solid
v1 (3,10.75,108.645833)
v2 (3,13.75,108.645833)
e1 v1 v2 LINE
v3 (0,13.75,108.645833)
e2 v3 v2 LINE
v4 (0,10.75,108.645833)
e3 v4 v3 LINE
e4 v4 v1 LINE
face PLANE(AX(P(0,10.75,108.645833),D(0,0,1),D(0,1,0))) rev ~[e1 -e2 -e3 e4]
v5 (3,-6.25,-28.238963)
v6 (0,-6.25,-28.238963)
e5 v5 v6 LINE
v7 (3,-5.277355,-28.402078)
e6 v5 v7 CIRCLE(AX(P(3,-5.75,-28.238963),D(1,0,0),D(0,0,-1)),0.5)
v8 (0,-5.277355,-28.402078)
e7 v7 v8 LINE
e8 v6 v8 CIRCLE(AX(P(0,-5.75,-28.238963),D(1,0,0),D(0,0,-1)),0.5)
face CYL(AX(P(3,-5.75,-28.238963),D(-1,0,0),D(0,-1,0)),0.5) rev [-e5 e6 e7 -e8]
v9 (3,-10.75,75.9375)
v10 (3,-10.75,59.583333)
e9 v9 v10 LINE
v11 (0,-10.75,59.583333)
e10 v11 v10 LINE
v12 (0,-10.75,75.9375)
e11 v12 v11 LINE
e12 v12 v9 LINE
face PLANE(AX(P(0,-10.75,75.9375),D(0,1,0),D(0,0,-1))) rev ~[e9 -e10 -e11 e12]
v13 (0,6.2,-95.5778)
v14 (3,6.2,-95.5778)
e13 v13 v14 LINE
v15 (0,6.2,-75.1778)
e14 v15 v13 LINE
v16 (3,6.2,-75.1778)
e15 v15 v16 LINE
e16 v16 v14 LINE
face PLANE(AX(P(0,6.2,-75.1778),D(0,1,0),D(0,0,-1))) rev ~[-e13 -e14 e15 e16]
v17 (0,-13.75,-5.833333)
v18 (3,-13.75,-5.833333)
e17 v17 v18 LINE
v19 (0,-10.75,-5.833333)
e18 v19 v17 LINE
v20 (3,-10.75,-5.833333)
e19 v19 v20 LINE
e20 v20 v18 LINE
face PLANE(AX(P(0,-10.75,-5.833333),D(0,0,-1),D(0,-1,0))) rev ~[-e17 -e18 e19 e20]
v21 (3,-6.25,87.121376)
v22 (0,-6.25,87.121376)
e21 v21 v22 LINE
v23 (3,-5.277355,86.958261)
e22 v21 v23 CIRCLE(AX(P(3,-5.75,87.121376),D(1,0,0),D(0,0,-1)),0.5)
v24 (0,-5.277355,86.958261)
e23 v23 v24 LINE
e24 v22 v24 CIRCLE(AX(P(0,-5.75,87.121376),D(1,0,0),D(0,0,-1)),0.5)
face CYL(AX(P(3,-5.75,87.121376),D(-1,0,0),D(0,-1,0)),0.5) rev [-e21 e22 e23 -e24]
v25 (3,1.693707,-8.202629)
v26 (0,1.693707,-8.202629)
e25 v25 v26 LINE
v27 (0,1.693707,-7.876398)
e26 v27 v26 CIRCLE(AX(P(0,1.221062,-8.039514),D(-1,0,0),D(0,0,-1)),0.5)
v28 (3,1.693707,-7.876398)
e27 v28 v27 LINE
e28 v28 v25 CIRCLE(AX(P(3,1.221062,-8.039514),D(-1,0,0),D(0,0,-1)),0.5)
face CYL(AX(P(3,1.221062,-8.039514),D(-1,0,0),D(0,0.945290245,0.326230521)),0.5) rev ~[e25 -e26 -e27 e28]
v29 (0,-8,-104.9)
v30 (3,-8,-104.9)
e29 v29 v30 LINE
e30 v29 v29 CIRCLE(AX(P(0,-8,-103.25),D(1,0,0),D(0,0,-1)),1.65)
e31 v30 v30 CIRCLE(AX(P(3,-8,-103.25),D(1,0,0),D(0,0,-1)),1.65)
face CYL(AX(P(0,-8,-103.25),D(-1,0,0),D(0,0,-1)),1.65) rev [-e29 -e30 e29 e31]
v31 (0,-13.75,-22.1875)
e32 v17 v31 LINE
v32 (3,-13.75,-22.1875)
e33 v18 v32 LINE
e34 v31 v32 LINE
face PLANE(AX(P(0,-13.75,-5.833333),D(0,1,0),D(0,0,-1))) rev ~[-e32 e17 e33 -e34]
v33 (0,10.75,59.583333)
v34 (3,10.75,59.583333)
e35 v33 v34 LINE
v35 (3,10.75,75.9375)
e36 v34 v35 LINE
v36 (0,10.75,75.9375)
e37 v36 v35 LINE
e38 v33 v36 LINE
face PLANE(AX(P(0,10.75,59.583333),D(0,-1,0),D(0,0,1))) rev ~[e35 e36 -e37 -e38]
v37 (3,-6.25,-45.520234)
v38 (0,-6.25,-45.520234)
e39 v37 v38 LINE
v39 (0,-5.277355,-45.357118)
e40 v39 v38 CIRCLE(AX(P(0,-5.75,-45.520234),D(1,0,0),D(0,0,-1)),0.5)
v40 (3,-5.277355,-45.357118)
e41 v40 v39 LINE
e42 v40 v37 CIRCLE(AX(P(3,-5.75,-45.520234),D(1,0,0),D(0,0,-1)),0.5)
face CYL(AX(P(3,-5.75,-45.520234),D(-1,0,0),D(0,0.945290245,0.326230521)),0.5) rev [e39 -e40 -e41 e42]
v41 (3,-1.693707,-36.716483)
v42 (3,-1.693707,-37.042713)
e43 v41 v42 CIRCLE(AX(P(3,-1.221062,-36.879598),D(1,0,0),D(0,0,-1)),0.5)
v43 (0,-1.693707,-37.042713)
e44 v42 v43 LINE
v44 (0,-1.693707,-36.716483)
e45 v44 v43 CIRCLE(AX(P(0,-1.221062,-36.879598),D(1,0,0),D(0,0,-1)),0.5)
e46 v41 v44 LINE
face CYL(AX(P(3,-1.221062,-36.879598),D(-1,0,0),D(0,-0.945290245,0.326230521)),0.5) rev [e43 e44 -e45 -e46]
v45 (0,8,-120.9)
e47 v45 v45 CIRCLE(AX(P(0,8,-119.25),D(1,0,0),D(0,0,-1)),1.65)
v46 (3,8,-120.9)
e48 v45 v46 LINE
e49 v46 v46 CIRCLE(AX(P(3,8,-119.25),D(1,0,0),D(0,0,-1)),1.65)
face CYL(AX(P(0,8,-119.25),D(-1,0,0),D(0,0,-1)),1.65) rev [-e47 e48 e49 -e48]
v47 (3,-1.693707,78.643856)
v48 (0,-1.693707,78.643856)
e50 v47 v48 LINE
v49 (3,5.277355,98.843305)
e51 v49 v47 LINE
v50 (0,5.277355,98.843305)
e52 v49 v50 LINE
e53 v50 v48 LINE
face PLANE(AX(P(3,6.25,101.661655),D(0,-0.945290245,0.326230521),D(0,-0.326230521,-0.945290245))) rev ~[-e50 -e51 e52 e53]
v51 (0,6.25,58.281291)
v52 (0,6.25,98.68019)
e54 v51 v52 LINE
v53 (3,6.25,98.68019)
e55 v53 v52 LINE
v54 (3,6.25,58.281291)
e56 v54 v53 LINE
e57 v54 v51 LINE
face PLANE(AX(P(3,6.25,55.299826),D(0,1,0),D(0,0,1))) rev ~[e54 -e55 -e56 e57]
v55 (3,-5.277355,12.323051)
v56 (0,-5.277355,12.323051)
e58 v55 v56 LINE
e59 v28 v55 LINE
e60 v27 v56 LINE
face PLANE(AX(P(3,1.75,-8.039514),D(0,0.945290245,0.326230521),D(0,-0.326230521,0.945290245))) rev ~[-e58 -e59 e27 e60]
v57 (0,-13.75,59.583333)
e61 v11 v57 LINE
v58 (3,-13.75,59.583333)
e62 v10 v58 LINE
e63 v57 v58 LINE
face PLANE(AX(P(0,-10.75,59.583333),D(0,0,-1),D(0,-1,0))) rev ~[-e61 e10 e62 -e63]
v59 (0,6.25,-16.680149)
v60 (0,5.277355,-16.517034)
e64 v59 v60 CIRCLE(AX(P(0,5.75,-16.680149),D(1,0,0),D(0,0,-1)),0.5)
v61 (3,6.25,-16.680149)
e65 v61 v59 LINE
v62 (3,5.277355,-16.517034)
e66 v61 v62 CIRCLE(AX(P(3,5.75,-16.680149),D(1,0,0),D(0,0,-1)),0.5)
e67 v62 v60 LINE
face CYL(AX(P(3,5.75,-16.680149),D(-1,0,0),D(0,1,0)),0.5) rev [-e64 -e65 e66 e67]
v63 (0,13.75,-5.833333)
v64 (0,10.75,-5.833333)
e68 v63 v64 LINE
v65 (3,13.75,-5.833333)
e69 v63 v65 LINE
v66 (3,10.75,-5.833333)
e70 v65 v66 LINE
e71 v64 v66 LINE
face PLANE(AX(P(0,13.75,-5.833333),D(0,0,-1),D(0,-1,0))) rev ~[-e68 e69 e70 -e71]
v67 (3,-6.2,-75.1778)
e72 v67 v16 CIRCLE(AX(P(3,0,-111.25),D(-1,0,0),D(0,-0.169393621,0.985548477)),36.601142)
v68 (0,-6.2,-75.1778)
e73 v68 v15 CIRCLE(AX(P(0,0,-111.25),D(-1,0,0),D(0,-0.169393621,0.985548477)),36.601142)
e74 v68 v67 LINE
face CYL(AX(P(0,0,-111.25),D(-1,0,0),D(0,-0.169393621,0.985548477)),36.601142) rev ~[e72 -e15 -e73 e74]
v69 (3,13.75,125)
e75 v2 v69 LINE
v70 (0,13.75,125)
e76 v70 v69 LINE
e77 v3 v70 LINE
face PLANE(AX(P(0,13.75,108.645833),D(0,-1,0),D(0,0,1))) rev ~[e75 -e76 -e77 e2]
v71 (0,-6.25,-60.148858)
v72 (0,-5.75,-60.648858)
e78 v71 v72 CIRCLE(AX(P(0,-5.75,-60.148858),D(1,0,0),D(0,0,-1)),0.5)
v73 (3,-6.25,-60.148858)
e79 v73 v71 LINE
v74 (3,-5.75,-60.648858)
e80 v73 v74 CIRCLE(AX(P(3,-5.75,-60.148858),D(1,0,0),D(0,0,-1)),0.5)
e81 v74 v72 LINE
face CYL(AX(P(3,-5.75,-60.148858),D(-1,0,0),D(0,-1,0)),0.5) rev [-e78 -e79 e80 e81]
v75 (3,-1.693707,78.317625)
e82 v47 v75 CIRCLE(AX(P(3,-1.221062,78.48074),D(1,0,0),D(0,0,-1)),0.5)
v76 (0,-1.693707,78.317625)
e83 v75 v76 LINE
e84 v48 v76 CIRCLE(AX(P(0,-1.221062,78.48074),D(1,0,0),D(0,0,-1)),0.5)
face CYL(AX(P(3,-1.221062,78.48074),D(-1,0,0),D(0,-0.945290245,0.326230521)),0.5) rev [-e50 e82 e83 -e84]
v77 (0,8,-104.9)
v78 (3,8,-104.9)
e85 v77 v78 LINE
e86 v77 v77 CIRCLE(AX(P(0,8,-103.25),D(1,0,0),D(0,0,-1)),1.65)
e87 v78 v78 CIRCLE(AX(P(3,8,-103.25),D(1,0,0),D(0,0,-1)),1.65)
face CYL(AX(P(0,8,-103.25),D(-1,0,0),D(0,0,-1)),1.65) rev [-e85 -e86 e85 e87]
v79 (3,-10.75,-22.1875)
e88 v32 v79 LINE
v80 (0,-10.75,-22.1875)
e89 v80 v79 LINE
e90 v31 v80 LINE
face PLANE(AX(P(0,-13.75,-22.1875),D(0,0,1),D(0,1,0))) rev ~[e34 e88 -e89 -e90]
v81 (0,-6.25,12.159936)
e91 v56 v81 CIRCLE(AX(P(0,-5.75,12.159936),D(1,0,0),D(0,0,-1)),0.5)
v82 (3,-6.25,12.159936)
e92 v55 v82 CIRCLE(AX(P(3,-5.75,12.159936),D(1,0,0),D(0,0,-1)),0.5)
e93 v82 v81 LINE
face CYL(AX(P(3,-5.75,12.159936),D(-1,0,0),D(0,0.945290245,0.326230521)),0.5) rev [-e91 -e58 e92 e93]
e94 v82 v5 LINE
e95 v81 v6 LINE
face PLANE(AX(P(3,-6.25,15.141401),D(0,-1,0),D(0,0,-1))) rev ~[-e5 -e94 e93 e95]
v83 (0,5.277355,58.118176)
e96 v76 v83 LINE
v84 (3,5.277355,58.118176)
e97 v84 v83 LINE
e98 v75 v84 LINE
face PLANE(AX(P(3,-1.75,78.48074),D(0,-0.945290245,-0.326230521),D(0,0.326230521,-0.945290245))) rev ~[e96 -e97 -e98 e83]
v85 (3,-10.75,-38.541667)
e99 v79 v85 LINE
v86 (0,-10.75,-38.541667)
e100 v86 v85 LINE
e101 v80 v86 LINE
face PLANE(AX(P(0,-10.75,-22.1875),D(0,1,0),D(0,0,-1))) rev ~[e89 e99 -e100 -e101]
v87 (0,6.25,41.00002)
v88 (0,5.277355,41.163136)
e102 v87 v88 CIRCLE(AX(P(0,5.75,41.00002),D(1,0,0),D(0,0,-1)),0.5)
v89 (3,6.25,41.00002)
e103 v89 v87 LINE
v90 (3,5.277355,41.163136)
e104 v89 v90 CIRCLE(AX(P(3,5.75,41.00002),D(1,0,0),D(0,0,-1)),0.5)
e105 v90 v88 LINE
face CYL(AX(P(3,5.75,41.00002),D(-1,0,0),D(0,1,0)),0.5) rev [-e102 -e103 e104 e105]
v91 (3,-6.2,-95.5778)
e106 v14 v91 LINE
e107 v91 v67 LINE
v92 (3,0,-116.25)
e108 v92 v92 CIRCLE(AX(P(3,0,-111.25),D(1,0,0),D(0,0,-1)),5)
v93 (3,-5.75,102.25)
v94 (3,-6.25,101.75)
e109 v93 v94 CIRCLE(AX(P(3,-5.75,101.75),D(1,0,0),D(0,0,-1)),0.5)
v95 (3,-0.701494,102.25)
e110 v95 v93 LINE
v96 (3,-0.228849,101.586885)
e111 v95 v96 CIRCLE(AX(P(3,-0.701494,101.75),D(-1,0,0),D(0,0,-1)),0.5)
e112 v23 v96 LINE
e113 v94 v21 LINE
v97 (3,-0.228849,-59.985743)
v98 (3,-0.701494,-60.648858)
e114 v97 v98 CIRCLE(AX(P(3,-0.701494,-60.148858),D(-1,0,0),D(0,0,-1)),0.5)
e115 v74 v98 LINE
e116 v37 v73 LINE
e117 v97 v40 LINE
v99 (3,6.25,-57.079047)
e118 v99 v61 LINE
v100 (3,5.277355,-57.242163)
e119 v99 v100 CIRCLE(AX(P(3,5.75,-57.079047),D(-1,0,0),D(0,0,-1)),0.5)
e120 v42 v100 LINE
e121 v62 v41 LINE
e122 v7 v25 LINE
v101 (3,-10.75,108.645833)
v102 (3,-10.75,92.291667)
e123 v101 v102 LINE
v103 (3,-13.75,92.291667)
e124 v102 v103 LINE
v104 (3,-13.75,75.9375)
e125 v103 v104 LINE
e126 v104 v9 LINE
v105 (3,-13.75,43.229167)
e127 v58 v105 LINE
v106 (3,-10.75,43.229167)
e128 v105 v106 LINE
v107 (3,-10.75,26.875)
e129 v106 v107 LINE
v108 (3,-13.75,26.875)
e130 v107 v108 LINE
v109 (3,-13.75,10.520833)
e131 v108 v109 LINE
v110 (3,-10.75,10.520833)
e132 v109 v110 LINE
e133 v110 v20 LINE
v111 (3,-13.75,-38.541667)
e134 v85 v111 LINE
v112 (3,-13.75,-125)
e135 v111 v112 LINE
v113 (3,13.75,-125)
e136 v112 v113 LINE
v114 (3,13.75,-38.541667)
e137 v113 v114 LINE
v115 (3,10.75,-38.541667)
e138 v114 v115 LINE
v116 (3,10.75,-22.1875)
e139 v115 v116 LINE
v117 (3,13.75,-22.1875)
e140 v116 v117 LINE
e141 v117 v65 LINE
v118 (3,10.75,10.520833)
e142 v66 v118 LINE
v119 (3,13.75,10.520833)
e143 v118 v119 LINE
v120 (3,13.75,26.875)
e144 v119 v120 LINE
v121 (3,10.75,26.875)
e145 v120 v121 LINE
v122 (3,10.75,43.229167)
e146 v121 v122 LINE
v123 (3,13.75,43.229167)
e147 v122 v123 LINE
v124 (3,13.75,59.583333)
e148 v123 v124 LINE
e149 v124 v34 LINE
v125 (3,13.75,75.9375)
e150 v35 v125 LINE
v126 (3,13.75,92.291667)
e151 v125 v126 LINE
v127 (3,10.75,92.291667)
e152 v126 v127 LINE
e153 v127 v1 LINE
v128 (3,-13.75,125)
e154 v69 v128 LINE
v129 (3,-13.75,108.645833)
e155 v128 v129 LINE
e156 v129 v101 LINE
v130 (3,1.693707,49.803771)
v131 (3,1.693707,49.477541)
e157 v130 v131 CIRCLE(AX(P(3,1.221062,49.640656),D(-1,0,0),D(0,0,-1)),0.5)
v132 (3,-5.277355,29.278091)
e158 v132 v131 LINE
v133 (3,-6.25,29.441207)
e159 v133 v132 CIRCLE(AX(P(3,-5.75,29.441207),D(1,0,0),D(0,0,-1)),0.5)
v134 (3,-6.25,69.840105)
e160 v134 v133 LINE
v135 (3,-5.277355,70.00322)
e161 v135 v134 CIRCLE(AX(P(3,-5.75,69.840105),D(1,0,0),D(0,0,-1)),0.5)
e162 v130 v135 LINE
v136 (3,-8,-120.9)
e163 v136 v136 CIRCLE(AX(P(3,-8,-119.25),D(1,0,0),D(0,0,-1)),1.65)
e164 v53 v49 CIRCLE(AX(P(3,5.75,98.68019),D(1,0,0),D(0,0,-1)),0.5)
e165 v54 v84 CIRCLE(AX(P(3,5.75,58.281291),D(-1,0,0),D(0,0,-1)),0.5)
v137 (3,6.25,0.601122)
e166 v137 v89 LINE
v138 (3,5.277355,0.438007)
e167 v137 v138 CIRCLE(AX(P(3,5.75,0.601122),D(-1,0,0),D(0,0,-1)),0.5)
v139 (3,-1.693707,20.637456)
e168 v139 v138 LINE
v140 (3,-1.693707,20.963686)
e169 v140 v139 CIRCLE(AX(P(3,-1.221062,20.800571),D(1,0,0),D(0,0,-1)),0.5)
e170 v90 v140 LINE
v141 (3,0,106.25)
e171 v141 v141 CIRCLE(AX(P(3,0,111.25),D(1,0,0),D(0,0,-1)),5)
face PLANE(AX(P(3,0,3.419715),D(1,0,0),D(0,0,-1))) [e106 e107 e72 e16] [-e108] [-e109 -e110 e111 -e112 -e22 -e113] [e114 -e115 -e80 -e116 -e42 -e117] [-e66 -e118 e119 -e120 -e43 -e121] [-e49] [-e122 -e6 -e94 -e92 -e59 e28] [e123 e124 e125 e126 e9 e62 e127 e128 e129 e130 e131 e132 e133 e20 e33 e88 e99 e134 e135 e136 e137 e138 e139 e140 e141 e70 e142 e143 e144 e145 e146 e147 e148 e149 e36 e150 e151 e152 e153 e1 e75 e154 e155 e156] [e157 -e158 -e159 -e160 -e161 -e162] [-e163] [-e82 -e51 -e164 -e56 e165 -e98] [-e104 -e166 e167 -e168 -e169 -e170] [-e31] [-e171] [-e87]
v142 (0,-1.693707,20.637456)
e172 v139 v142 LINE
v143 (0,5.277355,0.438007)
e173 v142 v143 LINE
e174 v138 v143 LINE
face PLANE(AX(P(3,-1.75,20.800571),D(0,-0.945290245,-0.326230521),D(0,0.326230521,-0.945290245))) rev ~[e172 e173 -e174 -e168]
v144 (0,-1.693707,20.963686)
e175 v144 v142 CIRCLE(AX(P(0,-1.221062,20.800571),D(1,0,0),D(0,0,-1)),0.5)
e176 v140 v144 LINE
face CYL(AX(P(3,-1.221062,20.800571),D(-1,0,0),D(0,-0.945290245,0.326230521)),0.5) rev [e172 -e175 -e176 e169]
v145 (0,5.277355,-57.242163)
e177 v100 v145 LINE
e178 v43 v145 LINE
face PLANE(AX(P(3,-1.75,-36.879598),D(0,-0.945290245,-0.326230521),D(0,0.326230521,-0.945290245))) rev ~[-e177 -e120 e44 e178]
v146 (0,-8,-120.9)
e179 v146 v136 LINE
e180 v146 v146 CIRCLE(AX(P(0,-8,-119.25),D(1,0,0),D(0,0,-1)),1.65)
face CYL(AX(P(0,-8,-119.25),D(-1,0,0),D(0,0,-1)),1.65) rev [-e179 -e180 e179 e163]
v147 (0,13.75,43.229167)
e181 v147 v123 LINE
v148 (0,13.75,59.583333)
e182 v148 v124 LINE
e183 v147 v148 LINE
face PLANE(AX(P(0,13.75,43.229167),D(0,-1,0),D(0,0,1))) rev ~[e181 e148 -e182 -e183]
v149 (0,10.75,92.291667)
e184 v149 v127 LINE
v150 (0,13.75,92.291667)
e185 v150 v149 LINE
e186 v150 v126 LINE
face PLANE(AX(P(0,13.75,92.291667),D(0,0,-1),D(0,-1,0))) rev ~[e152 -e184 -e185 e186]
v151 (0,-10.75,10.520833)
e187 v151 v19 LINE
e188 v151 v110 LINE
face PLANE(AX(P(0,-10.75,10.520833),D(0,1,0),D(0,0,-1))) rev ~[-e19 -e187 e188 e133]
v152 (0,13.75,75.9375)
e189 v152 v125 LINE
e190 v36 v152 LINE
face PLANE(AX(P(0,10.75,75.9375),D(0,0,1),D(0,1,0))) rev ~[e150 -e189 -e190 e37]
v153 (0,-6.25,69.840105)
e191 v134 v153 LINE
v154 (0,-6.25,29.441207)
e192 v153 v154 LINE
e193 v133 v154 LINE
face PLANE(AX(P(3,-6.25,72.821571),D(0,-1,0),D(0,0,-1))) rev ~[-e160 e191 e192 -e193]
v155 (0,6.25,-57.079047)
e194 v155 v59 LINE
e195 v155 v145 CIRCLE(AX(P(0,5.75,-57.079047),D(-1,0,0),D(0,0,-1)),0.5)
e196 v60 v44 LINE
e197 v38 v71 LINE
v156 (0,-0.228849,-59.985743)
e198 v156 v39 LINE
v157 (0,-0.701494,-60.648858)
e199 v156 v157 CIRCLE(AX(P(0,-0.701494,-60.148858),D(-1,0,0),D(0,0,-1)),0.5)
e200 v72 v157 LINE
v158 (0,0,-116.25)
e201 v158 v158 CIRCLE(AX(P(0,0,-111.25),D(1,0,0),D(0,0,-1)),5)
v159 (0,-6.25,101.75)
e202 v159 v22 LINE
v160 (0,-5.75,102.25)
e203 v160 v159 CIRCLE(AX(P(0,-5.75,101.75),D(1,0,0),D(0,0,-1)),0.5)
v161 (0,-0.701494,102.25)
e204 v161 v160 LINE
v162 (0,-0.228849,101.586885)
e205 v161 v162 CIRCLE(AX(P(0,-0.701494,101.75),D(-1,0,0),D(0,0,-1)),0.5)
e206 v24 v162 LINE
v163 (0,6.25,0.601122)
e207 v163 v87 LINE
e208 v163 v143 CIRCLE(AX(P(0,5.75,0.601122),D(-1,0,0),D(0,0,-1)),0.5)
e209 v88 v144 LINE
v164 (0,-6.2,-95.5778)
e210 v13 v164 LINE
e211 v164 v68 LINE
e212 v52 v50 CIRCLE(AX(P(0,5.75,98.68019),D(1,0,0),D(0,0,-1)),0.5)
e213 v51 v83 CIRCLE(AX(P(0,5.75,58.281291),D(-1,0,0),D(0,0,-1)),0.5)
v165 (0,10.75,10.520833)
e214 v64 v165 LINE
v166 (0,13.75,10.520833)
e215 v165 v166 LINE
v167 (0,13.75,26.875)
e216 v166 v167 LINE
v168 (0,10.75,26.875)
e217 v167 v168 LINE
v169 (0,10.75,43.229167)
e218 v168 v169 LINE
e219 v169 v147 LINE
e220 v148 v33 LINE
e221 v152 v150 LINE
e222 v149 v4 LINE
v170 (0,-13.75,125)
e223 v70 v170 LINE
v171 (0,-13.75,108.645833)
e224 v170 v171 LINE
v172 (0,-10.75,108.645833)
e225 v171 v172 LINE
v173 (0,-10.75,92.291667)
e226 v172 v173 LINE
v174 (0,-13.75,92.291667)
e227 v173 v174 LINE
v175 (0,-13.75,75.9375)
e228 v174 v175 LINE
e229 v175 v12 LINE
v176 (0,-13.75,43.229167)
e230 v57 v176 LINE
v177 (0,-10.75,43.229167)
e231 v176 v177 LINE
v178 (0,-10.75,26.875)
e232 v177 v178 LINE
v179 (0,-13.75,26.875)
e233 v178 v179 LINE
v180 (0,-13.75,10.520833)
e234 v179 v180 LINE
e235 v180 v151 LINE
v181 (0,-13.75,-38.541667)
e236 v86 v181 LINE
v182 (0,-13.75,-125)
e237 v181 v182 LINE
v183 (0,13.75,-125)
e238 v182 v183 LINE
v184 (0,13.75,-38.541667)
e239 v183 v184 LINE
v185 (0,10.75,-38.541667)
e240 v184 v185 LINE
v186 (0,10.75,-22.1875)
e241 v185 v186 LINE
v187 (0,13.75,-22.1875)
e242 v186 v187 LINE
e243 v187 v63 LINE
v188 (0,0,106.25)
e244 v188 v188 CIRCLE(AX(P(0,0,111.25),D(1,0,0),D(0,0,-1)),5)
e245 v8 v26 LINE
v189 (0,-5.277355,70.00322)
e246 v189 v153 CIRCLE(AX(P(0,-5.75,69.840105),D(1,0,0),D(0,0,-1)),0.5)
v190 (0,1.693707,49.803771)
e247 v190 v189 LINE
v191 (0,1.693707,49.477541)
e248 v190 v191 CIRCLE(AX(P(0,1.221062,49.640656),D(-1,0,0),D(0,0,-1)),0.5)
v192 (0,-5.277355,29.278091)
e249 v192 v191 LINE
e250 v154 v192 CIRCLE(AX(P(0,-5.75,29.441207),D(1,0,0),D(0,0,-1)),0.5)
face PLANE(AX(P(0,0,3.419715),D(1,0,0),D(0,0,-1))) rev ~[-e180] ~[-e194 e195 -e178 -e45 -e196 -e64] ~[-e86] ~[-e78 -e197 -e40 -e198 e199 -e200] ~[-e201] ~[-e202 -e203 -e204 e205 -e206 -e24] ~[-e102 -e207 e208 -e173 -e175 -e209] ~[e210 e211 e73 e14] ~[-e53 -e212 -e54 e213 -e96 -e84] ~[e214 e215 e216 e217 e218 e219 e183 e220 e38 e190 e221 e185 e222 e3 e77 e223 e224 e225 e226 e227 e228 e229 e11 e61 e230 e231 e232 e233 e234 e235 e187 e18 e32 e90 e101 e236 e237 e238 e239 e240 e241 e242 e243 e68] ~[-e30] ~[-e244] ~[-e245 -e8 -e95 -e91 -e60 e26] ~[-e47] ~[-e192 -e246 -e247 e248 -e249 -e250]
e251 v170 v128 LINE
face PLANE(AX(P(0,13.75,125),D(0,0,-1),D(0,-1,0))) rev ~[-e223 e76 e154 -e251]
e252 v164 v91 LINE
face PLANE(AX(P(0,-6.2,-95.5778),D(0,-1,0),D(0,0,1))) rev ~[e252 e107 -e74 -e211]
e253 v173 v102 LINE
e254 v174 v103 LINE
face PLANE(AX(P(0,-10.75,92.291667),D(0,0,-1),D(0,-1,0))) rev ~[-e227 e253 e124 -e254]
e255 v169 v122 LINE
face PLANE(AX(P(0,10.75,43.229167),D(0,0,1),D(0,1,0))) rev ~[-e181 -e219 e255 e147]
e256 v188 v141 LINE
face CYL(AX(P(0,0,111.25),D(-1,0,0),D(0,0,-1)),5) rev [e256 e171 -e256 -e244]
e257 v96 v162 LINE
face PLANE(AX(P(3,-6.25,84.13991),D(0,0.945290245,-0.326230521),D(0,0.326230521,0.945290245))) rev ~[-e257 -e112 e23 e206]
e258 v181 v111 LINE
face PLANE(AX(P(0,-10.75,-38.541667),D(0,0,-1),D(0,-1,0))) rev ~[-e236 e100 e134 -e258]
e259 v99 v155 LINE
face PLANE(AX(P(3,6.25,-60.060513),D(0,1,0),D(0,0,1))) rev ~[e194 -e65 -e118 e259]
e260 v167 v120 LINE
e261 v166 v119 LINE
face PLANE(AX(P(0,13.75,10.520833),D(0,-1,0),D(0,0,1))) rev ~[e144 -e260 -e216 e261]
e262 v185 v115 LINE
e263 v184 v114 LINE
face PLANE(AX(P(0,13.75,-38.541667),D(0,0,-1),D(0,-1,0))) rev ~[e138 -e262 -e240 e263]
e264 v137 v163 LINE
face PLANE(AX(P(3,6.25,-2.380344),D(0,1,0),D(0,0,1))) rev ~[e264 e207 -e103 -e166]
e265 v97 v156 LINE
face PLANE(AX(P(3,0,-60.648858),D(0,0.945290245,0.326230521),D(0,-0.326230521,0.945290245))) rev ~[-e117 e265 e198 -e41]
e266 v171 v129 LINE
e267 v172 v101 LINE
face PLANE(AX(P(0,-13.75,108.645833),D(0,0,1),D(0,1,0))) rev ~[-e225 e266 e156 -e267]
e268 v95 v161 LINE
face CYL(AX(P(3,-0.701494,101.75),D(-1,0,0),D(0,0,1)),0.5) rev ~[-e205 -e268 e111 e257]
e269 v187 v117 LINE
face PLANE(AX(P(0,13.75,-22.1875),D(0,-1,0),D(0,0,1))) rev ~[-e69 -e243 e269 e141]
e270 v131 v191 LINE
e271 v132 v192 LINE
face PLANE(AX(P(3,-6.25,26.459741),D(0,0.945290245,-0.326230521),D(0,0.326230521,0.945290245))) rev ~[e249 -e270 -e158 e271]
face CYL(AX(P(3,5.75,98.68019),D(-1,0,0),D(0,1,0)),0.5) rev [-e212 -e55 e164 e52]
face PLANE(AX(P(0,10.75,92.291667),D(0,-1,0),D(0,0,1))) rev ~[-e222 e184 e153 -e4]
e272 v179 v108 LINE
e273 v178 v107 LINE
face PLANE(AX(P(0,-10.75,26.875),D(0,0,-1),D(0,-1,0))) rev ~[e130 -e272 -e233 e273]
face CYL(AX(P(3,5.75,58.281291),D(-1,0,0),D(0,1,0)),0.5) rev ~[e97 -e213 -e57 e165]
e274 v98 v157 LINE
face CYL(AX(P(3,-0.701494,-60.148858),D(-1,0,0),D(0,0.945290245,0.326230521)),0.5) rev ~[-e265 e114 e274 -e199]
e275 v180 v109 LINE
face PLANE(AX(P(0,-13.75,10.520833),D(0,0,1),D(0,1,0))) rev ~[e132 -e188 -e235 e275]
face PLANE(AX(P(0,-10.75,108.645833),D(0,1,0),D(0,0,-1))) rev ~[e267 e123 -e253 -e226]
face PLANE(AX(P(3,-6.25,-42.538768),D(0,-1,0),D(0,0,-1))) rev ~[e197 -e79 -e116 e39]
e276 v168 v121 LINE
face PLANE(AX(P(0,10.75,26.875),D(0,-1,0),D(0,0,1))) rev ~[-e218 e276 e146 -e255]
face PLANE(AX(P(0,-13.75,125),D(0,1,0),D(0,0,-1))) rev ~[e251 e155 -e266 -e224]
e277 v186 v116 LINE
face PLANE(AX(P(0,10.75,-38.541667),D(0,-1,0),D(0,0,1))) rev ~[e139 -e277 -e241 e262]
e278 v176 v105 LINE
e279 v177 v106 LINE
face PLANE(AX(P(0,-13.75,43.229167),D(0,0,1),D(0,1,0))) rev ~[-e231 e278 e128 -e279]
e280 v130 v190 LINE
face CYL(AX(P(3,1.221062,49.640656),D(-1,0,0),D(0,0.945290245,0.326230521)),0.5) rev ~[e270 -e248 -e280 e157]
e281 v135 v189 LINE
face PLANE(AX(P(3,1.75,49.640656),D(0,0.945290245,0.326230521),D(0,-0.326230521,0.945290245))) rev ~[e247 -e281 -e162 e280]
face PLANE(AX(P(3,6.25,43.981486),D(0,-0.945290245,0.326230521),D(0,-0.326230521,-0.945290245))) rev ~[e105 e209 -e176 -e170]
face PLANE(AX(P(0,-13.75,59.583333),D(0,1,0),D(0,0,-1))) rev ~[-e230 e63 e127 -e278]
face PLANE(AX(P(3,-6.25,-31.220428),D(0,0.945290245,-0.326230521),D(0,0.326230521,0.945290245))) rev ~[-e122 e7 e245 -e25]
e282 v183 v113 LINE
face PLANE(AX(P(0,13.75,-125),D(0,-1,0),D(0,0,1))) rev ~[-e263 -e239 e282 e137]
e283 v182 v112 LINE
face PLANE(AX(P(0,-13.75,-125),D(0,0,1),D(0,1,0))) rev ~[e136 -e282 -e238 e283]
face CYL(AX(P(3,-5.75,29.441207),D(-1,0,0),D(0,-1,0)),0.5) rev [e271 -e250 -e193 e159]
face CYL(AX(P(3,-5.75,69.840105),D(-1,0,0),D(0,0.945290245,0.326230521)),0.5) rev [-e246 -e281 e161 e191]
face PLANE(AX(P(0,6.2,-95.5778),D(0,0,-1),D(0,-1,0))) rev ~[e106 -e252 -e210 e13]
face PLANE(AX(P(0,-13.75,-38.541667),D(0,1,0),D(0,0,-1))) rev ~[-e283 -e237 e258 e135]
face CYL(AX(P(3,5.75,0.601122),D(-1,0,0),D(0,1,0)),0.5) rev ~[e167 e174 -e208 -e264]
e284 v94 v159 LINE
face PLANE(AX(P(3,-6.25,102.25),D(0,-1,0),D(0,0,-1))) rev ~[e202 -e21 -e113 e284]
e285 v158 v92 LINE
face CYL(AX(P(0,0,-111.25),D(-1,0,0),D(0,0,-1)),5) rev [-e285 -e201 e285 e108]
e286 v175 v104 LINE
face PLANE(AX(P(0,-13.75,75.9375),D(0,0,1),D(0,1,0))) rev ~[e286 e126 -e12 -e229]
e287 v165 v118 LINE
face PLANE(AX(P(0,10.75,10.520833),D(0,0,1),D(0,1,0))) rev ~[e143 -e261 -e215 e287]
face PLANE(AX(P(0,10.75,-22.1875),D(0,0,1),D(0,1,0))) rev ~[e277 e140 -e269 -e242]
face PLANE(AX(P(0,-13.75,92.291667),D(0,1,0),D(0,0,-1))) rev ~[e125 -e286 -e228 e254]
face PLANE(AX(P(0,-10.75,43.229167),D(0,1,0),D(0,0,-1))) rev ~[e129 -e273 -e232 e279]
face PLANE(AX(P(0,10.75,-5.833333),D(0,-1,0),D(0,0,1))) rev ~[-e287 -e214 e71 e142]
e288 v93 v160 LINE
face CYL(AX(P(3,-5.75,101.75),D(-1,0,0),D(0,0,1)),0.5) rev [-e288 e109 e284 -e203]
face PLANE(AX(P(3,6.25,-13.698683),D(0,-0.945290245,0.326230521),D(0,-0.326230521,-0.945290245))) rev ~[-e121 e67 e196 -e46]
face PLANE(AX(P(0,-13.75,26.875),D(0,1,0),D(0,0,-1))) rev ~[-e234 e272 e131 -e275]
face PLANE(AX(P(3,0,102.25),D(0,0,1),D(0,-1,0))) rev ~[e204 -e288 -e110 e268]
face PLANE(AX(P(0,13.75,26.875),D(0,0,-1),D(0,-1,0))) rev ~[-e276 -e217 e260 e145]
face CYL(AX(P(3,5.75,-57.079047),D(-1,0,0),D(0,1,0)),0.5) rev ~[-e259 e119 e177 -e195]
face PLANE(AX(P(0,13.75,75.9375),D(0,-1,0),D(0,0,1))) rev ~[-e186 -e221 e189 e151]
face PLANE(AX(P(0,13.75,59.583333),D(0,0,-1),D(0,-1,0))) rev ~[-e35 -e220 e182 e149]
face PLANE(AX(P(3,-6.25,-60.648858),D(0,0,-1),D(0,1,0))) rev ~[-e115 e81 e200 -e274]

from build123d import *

# Parameters (mm, degrees)
SKETCH1_R           = 1.65
SKETCH1_R_2         = 5
BOSS_EXTRUDE1_DEPTH = 3
CUT_EXTRUDE1_DEPTH  = 3
FILLET1_R           = 0.5


with BuildPart() as part:
    # Sketch1 → Boss-Extrude1 (new body)
    with BuildSketch(Plane(origin=(0, 0, 0), x_dir=(0, 0, -1), z_dir=(1, 0, 0))):
        Polygon((-125, 13.75), (-125, -13.75), (-108.645833333, -13.75), (-108.645833333, -10.75), (-92.291666667, -10.75), (-92.291666667, -13.75), (-75.9375, -13.75), (-75.9375, -10.75), (-59.583333333, -10.75), (-59.583333333, -13.75), (-43.229166667, -13.75), (-43.229166667, -10.75), (-26.875, -10.75), (-26.875, -13.75), (-10.520833333, -13.75), (-10.520833333, -10.75), (5.833333333, -10.75), (5.833333333, -13.75), (22.1875, -13.75), (22.1875, -10.75), (38.541666667, -10.75), (38.541666667, -13.75), (125, -13.75), (125, 13.75), (38.541666667, 13.75), (38.541666667, 10.75), (22.1875, 10.75), (22.1875, 13.75), (5.833333333, 13.75), (5.833333333, 10.75), (-10.520833333, 10.75), (-10.520833333, 13.75), (-26.875, 13.75), (-26.875, 10.75), (-43.229166667, 10.75), (-43.229166667, 13.75), (-59.583333333, 13.75), (-59.583333333, 10.75), (-75.9375, 10.75), (-75.9375, 13.75), (-92.291666667, 13.75), (-92.291666667, 10.75), (-108.645833333, 10.75), (-108.645833333, 13.75), align=None)
        with Locations((103.25, -8)):
            Circle(SKETCH1_R, mode=Mode.SUBTRACT)
        with Locations((119.25, -8)):
            Circle(SKETCH1_R, mode=Mode.SUBTRACT)
        with Locations((-111.25, 0)):
            Circle(SKETCH1_R_2, mode=Mode.SUBTRACT)
        with BuildLine():
            Line((95.5778, -6.2), (75.1778, -6.2))
            ThreePointArc((75.1778, -6.2), (74.648857766, 0), (75.1778, 6.2))
            Line((75.1778, 6.2), (95.5778, 6.2))
            Line((95.5778, 6.2), (95.5778, -6.2))
        make_face(mode=Mode.SUBTRACT)
        with Locations((111.25, 0)):
            Circle(SKETCH1_R_2, mode=Mode.SUBTRACT)
        with Locations((103.25, 8)):
            Circle(SKETCH1_R, mode=Mode.SUBTRACT)
        with Locations((119.25, 8)):
            Circle(SKETCH1_R, mode=Mode.SUBTRACT)
    extrude(amount=BOSS_EXTRUDE1_DEPTH)

    # Sketch3 → Cut-Extrude1 (cut)
    with BuildSketch(Plane(origin=(3, 0, 0), x_dir=(0, 0, -1), z_dir=(1, 0, 0))):
        Polygon((-102.25, 0), (-102.25, -6.25), (-84.139910217, -6.25), align=None)
        Polygon((-55.299825543, 6.25), (-101.661655387, 6.25), (-78.480740465, -1.75), align=None)
        Polygon((-49.640655791, 1.75), (-72.821570713, -6.25), (-26.459740869, -6.25), align=None)
        Polygon((2.380343805, 6.25), (-43.981486039, 6.25), (-20.800571117, -1.75), align=None)
        Polygon((8.039513557, 1.75), (-15.141401365, -6.25), (31.220428479, -6.25), align=None)
        Polygon((60.060513153, 6.25), (13.698683309, 6.25), (36.879598231, -1.75), align=None)
        Polygon((60.648857766, 0), (42.538767983, -6.25), (60.648857766, -6.25), align=None)
    extrude(amount=-CUT_EXTRUDE1_DEPTH, mode=Mode.SUBTRACT)

    # Fillet1
    fillet1_edges = [part.edges().sort_by_distance(p)[0] for p in [
        (1.5, -1.75, 20.800571117),
        (1.5, 6.25, 43.981486039),
        (1.5, 6.25, -2.380343805),
        (1.5, 1.75, -8.039513557),
        (1.5, -6.25, -31.220428479),
        (1.5, -6.25, 15.141401365),
        (1.5, -1.75, 78.480740465),
        (1.5, 6.25, 101.661655387),
        (1.5, 6.25, 55.299825543),
        (1.5, 1.75, 49.640655791),
        (1.5, -6.25, 26.459740869),
        (1.5, -6.25, 72.821570713),
        (1.5, -6.25, -42.538767983),
        (1.5, 0, -60.648857766),
        (1.5, -6.25, -60.648857766),
        (1.5, -1.75, -36.879598231),
        (1.5, 6.25, -13.698683309),
        (1.5, 6.25, -60.060513153),
        (1.5, 0, 102.25),
        (1.5, -6.25, 84.139910217),
        (1.5, -6.25, 102.25),
    ]]
    fillet(fillet1_edges, radius=FILLET1_R)


solid = part.part
